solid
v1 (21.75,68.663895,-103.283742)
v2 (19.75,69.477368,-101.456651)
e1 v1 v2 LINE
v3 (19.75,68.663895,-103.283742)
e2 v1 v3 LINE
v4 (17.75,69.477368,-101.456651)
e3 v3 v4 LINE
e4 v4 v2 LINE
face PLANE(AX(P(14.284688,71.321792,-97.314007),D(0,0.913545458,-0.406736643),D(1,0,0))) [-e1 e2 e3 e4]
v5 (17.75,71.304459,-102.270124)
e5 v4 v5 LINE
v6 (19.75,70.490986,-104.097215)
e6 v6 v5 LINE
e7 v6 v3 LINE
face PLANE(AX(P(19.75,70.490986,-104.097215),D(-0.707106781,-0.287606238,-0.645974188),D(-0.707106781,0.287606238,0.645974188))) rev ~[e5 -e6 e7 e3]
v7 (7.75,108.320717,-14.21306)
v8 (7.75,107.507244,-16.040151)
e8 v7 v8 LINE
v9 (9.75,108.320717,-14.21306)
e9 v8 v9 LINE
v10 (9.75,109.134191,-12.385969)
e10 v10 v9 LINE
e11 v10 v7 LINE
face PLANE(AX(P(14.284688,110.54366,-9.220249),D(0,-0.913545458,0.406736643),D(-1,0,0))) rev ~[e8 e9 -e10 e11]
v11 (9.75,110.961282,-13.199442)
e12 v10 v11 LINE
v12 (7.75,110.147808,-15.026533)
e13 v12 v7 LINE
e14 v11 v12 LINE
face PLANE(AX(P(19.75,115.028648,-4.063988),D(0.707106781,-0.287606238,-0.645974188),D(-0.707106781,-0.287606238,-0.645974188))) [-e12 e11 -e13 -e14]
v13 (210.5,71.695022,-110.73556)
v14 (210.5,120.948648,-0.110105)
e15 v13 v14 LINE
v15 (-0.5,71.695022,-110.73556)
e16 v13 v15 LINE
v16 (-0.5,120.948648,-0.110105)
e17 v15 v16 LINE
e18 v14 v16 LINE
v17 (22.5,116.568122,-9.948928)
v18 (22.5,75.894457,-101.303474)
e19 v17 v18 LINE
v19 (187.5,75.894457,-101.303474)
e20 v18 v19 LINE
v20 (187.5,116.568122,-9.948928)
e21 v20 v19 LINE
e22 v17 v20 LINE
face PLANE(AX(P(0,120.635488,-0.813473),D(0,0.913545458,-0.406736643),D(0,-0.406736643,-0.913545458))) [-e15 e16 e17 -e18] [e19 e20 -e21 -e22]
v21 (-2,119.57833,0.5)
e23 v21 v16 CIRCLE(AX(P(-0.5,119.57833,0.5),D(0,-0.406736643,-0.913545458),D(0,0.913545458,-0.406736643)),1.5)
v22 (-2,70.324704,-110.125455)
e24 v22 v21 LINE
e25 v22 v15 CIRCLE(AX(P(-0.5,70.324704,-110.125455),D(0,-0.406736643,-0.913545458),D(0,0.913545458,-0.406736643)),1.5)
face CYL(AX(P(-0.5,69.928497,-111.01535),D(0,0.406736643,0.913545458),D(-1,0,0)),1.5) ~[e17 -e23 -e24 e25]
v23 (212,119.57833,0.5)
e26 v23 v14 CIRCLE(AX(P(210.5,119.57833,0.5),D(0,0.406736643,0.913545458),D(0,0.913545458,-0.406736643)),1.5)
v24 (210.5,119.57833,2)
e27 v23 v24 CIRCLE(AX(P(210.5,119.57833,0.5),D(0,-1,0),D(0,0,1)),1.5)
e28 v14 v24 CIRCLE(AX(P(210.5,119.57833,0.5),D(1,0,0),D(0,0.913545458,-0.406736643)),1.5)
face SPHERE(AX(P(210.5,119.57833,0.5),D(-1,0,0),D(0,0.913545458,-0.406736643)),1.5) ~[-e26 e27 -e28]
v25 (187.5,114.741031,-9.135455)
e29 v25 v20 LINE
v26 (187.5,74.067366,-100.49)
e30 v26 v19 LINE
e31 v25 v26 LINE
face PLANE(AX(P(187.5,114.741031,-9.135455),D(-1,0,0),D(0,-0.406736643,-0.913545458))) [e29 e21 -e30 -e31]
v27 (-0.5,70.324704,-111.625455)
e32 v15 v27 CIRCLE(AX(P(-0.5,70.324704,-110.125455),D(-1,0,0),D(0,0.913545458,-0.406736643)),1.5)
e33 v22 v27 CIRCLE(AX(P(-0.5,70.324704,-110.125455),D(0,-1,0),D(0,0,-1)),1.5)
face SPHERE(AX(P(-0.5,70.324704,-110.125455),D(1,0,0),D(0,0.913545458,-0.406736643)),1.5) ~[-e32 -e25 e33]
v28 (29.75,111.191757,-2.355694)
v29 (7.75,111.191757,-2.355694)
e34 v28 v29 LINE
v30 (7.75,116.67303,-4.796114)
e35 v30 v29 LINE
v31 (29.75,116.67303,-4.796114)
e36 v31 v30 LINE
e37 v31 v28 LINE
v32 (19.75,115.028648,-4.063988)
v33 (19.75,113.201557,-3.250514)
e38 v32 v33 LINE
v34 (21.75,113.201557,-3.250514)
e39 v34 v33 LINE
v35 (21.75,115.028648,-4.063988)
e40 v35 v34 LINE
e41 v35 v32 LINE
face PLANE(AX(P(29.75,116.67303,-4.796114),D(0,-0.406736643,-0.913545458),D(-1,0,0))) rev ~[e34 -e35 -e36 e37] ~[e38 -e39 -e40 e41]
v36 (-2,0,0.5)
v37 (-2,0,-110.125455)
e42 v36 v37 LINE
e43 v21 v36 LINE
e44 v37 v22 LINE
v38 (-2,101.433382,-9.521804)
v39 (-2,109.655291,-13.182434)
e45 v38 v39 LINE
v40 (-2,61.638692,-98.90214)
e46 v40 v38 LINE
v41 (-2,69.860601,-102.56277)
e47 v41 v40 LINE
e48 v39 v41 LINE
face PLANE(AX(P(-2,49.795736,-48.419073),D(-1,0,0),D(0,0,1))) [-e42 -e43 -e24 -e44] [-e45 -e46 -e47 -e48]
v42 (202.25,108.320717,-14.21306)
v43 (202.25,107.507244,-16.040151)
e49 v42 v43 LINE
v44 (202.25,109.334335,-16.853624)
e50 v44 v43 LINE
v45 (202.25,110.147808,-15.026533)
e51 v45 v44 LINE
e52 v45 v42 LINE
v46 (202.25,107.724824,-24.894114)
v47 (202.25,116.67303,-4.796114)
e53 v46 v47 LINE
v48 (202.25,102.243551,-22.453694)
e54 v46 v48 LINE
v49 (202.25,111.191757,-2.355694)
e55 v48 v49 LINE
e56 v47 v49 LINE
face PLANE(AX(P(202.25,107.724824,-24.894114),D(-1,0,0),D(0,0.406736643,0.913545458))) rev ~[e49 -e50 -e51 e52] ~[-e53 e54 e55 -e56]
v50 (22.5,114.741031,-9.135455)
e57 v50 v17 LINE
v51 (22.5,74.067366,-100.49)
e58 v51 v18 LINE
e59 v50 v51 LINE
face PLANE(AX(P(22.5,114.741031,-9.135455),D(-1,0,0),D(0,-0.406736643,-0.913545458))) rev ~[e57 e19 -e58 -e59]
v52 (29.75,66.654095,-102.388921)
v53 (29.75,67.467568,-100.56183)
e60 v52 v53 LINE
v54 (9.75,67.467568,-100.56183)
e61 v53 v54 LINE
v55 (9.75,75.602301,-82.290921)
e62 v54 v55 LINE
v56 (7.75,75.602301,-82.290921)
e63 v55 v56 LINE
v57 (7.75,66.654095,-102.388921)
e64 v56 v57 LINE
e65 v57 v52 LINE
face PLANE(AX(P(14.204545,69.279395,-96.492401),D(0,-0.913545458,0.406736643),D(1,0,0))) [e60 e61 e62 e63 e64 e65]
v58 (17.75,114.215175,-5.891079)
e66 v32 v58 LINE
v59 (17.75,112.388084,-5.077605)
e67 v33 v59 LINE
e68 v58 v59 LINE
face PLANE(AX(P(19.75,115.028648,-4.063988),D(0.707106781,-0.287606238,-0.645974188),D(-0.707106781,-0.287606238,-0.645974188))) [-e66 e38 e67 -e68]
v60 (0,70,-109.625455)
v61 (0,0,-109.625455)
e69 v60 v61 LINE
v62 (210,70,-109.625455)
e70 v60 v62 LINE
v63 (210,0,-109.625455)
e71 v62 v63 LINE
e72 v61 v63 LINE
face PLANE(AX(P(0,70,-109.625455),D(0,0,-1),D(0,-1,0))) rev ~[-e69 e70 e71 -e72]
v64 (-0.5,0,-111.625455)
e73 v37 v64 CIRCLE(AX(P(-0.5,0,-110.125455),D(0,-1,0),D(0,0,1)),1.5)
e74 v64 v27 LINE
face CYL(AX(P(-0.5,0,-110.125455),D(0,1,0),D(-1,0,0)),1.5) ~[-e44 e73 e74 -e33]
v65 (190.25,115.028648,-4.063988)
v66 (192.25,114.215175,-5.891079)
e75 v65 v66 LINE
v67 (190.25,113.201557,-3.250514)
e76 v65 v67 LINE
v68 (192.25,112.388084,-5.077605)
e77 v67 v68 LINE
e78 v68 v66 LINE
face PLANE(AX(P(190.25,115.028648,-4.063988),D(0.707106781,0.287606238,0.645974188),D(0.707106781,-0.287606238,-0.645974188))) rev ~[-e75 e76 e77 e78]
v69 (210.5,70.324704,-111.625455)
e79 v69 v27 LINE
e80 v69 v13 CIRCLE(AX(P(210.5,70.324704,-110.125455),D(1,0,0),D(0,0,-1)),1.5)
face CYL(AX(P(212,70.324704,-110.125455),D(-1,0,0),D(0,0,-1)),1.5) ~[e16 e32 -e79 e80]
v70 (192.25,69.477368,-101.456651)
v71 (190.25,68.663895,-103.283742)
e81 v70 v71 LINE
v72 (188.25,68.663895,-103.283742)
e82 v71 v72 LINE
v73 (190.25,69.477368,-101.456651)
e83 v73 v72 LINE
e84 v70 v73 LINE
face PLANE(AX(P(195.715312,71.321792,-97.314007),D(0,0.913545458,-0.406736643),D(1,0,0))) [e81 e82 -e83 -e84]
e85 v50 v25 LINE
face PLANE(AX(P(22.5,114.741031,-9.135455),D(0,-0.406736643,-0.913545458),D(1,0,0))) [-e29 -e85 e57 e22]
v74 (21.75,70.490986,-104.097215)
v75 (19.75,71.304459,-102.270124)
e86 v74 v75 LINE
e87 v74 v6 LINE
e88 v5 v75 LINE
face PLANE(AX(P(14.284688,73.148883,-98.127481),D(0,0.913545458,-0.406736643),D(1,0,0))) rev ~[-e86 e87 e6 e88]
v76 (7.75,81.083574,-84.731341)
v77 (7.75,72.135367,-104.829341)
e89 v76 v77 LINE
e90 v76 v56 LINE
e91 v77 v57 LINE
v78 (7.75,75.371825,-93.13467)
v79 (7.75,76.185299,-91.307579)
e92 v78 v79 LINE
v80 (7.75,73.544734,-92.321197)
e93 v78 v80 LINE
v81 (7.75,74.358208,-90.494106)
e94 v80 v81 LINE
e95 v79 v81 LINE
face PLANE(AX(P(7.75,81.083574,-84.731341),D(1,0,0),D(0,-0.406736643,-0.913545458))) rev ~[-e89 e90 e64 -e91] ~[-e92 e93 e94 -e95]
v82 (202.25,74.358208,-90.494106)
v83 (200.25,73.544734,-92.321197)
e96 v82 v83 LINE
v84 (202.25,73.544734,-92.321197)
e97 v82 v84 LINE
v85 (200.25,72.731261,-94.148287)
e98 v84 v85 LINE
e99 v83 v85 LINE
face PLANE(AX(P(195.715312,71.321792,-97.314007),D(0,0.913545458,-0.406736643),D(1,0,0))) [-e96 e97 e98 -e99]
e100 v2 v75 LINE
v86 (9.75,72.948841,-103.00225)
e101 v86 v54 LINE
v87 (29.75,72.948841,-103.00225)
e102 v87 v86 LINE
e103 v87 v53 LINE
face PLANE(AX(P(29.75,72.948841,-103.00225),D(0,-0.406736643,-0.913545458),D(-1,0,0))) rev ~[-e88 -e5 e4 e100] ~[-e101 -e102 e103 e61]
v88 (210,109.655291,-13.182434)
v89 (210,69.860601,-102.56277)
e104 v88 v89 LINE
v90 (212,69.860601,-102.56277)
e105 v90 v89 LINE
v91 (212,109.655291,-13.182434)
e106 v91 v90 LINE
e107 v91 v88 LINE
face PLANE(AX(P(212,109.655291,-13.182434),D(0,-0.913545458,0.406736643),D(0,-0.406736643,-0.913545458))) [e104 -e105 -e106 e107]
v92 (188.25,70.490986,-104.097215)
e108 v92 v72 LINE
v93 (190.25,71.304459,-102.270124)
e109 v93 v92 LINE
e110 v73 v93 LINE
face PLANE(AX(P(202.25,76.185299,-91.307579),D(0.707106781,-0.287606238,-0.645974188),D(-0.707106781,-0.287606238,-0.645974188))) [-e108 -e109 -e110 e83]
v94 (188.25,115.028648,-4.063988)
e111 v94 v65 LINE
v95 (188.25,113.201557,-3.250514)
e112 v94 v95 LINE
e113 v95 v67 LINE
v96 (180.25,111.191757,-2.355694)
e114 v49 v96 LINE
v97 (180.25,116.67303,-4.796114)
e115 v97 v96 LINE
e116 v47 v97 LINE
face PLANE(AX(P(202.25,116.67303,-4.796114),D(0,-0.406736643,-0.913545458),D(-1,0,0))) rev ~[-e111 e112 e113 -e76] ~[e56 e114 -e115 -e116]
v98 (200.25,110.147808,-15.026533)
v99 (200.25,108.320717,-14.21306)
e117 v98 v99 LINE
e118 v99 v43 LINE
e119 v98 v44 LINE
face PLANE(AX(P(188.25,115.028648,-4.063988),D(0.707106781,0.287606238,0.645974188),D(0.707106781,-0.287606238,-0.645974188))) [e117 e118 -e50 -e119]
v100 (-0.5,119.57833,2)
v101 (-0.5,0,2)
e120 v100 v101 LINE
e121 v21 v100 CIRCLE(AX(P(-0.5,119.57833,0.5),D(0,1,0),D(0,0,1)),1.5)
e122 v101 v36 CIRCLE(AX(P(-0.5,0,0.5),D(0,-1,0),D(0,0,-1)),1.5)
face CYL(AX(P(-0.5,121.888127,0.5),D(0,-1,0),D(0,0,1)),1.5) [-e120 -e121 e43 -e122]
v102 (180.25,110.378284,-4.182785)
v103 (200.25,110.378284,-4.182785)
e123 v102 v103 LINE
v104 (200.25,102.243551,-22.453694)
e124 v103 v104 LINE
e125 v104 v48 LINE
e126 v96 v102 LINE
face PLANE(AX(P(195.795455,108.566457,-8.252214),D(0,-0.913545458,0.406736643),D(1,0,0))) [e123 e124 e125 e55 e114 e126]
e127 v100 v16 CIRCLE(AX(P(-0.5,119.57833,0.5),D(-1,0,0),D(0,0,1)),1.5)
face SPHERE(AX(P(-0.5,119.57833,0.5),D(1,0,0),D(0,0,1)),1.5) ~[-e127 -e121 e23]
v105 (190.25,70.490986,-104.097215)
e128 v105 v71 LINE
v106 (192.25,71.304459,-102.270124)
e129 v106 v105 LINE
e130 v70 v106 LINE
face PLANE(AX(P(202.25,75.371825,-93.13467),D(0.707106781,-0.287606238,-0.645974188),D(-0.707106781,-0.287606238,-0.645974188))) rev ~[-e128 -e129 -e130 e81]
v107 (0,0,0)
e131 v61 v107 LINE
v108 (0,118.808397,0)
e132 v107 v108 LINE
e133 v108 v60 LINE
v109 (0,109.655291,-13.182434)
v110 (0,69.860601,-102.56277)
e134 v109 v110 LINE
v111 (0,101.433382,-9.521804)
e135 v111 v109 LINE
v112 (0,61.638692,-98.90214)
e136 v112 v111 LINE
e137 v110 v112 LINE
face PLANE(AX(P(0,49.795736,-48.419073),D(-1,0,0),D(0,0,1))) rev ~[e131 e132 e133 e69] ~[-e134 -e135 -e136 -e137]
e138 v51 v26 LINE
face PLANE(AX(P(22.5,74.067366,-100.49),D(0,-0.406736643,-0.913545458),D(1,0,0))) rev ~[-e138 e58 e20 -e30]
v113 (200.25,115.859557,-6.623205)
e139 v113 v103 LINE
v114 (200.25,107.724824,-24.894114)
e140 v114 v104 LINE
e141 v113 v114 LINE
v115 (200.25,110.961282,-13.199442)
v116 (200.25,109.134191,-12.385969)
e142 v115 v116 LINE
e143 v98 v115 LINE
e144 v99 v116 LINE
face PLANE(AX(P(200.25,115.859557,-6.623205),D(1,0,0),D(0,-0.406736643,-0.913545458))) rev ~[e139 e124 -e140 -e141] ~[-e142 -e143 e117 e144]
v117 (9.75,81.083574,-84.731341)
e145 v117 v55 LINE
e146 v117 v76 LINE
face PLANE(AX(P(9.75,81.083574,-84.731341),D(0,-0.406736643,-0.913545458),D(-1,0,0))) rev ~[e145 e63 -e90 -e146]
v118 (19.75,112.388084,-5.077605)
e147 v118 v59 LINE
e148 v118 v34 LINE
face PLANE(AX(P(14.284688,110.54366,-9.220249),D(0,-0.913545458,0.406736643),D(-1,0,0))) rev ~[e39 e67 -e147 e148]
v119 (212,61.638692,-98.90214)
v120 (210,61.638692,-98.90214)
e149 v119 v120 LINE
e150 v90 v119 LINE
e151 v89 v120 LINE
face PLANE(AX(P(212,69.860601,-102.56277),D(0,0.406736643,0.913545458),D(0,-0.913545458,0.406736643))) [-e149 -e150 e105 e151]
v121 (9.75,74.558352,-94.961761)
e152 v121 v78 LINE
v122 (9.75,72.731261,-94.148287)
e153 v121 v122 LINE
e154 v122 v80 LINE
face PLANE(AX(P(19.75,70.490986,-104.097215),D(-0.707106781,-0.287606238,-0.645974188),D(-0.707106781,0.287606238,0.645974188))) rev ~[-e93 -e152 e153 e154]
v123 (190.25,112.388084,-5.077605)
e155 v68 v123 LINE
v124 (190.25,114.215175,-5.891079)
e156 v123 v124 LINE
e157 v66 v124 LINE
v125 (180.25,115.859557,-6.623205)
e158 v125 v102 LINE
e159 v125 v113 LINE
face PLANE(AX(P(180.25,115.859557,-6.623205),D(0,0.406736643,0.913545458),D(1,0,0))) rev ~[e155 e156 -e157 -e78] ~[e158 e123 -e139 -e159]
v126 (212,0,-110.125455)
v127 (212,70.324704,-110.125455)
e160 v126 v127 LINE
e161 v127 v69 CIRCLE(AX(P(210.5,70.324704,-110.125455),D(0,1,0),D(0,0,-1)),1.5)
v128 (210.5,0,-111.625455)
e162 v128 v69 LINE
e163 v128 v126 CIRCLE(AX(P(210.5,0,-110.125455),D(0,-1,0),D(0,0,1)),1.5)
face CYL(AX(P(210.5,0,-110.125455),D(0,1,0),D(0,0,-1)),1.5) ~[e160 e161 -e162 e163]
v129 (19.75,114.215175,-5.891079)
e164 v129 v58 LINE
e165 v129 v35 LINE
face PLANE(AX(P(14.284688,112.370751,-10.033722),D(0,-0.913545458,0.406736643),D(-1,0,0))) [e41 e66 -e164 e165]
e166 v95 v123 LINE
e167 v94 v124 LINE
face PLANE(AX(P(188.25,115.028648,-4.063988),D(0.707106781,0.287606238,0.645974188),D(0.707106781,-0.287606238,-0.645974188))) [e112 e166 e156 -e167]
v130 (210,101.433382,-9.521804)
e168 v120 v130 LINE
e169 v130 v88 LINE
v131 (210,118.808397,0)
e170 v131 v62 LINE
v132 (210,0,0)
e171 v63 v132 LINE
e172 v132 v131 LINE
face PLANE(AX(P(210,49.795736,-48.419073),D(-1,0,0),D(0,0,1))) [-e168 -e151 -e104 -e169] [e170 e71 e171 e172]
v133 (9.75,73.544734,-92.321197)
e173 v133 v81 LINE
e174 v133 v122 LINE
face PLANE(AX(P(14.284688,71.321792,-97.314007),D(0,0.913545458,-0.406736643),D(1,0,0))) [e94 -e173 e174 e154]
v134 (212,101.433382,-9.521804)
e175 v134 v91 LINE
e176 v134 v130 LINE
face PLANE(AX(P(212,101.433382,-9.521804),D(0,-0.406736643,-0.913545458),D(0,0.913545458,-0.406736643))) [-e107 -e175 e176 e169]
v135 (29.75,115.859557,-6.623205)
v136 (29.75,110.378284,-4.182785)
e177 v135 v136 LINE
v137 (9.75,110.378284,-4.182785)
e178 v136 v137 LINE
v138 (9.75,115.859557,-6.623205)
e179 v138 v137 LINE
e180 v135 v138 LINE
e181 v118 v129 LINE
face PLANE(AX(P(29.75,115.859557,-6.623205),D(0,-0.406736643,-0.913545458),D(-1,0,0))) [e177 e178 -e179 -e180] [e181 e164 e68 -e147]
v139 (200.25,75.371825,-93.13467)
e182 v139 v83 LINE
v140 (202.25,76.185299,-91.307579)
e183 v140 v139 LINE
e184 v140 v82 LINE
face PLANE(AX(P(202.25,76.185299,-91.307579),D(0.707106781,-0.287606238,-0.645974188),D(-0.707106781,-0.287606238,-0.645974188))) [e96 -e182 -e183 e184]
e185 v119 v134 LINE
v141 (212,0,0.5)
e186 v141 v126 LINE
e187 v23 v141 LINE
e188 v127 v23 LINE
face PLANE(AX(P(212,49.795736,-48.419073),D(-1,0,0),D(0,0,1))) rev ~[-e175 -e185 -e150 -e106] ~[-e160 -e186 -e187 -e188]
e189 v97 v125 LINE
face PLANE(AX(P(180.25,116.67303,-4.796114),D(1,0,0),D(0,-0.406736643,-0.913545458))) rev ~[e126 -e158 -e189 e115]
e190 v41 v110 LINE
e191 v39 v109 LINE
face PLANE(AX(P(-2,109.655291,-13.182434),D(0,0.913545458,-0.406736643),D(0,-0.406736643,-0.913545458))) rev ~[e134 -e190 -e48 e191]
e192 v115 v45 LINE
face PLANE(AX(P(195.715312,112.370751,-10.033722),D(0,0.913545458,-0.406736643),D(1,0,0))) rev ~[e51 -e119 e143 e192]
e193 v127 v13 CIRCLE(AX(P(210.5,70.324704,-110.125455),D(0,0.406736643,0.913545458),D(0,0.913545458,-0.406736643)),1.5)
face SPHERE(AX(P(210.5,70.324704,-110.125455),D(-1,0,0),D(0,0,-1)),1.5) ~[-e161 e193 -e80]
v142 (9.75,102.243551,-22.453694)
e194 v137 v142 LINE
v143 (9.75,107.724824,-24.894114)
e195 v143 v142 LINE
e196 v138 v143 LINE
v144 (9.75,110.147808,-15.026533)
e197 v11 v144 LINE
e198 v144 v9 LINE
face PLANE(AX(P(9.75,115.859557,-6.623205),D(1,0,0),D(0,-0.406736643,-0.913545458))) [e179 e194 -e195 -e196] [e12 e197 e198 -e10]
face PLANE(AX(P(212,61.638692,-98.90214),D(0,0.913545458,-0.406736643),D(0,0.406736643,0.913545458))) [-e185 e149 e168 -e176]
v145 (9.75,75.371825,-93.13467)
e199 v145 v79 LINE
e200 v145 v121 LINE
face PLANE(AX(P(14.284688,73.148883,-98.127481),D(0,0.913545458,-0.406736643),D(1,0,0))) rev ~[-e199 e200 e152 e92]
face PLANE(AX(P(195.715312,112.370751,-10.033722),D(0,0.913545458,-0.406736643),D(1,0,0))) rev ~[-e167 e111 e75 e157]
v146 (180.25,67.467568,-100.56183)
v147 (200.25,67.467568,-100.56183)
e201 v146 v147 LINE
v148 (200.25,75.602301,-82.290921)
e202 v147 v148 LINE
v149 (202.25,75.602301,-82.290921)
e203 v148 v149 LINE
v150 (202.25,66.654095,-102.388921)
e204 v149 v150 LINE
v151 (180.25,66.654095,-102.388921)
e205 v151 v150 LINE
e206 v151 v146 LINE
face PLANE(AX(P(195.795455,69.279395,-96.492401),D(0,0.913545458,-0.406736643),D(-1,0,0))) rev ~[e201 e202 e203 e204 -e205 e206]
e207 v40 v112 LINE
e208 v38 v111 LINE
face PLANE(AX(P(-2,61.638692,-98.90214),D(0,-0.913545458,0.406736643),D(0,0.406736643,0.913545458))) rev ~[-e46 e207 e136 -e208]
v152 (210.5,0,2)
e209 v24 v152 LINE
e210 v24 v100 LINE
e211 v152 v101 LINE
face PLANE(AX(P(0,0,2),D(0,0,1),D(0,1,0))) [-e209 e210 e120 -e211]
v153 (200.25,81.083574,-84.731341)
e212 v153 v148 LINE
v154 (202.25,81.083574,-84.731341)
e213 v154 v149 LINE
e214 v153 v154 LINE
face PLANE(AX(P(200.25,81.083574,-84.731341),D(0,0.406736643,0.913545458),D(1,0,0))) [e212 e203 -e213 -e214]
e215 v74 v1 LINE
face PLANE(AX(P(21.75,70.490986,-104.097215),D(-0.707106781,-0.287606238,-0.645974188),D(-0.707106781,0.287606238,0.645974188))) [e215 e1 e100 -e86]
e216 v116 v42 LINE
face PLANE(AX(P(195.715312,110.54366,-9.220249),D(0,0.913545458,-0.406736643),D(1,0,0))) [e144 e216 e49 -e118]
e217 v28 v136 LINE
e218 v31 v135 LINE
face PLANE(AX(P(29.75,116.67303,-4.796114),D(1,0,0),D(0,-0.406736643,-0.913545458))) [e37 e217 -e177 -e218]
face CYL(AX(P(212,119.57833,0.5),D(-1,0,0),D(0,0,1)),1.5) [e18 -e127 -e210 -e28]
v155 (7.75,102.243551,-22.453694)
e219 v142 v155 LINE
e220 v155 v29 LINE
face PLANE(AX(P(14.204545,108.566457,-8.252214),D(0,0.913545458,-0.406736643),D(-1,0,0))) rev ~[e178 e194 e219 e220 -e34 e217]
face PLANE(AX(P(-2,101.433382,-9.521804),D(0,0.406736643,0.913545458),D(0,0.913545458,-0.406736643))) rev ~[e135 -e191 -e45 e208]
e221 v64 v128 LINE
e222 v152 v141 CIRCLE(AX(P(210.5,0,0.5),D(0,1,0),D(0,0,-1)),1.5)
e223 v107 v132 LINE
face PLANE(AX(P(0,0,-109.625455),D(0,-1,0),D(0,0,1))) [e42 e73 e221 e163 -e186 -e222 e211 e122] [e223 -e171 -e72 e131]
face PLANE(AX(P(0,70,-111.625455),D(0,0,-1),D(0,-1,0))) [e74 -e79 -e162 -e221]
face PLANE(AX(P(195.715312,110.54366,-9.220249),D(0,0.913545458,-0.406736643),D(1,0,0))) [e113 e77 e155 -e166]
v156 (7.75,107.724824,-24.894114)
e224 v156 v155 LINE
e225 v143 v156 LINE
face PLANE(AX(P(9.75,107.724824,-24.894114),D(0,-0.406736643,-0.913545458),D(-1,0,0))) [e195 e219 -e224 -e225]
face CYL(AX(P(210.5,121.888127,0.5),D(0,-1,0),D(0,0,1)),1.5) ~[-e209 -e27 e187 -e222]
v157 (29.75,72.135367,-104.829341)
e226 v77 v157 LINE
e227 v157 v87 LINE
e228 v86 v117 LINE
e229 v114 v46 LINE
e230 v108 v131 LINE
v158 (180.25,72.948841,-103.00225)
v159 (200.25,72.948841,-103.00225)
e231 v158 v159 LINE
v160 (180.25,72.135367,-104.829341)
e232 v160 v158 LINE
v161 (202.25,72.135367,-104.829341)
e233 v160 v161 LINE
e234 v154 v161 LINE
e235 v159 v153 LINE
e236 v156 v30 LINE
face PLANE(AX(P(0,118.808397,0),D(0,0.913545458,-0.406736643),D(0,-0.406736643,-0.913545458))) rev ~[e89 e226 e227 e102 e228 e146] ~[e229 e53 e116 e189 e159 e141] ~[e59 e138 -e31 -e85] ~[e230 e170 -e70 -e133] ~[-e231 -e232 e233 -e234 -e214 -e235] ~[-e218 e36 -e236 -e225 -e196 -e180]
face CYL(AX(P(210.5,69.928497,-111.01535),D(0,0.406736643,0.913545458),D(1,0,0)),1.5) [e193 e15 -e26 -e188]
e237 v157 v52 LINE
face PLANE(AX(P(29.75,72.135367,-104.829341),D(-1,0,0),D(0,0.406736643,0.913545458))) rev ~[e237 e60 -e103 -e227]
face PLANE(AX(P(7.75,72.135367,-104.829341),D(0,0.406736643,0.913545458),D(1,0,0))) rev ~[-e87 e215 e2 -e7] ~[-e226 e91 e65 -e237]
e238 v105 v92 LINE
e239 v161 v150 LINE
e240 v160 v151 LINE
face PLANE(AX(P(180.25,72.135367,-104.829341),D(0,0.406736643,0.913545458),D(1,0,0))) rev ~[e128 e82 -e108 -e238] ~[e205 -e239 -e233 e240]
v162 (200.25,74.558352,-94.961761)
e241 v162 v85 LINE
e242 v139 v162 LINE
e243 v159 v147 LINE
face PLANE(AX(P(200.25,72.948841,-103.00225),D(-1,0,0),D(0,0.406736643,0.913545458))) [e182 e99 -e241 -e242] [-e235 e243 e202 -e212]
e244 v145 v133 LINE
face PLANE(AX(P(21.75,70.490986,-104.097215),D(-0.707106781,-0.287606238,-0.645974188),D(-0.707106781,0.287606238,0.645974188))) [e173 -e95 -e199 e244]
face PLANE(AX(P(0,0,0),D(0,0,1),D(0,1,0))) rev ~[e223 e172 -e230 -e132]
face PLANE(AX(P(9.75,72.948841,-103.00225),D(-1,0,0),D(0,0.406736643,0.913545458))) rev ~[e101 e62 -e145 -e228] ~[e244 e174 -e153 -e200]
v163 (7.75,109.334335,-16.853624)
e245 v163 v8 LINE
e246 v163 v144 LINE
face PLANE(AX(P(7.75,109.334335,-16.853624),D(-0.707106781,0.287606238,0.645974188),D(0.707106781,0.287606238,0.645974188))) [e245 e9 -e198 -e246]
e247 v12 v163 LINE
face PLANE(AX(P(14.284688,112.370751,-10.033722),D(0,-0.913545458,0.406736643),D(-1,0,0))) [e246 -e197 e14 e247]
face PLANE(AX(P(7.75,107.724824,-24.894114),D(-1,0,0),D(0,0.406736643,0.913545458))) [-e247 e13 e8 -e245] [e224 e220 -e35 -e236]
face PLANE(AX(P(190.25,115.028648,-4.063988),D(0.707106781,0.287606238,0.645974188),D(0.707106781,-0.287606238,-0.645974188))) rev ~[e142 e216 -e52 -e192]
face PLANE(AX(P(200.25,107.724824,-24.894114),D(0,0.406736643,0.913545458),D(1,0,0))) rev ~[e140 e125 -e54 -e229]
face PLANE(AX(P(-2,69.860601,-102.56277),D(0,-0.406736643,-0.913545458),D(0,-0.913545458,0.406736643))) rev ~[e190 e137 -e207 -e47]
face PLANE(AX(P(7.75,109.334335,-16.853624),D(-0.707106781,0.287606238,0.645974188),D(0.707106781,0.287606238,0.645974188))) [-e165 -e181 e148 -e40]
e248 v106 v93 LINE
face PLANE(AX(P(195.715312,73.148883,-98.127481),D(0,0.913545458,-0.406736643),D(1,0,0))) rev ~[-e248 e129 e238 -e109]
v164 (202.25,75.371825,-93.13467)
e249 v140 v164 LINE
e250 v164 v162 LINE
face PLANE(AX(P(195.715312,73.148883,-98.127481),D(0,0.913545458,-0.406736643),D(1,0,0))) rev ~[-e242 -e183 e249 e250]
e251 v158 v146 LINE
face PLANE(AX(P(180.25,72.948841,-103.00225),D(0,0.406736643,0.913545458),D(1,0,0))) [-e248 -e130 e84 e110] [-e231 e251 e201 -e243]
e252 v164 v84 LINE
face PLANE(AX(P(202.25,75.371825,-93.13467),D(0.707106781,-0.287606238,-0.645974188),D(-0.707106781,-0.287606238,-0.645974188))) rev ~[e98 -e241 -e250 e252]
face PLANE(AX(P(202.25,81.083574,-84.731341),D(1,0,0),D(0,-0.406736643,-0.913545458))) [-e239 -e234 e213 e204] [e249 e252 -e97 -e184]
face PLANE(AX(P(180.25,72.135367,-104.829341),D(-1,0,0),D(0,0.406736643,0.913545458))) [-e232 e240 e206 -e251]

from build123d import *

# Parameters (mm, degrees)
EXTRUDE_1_DEPTH     = 210
SHELL_1_T           = 2
SKETCH_3_W          = 165
SKETCH_3_H          = 100
CUT_EXTRUDE_2_DEPTH = 2
EXTRUDE_2_DEPTH     = 6
CUT_EXTRUDE_3_DEPTH = 2
CUT_EXTRUDE_4_DEPTH = 2
CUT_EXTRUDE_5_DEPTH = 2
FILLET_1_R          = 1.5


with BuildPart() as part:
    # 草图2 → 凸台-拉伸1 (new body)
    with BuildSketch(Plane(origin=(0, 0, 0), x_dir=(0, 0, -1), z_dir=(1, 0, 0))):
        Polygon((0, 0), (0, 118.808397169), (109.625454917, 70), (109.625454917, 0), align=None)
    extrude(amount=EXTRUDE_1_DEPTH)

    # 抽壳1
    shell_1_openings = [part.faces().sort_by_distance(p)[0] for p in [
        (105, 0, -54.812727459),
    ]]
    offset(amount=SHELL_1_T, openings=shell_1_openings, kind=Kind.INTERSECTION)

    # 草图3 → 切除-拉伸2 (cut)
    with BuildSketch(Plane(origin=(0, 99.153366004, -44.14592279), x_dir=(1, 0, 0), z_dir=(0, 0.9135454576426035, -0.4067366430757946))):
        with Locations((105, 11.676271366)):
            Rectangle(SKETCH_3_W, SKETCH_3_H)
    extrude(amount=CUT_EXTRUDE_2_DEPTH, mode=Mode.SUBTRACT)

    # 草图5 → 凸台-拉伸2 (add)
    with BuildSketch(Plane(origin=(0, 99.153366004, -44.14592279), x_dir=(1, 0, 0), z_dir=(0, -0.9135454576426034, 0.4067366430757947))):
        Polygon((9.75, 43.073728634), (29.75, 43.073728634), (29.75, 41.073728634), (9.75, 41.073728634), (9.75, 21.073728634), (7.75, 21.073728634), (7.75, 43.073728634), align=None)
        Polygon((180.25, 43.073728634), (180.25, 41.073728634), (200.25, 41.073728634), (200.25, 21.073728634), (202.25, 21.073728634), (202.25, 43.073728634), (200.25, 43.073728634), align=None)
        Polygon((180.25, -66.426271366), (180.25, -64.426271366), (200.25, -64.426271366), (200.25, -44.426271366), (202.25, -44.426271366), (202.25, -66.426271366), (200.25, -66.426271366), align=None)
        Polygon((29.75, -66.426271366), (29.75, -64.426271366), (9.75, -64.426271366), (9.75, -44.426271366), (7.75, -44.426271366), (7.75, -66.426271366), (9.75, -66.426271366), align=None)
    extrude(amount=EXTRUDE_2_DEPTH)

    # 草图8 → 切除-拉伸3 (cut)
    with BuildSketch(Plane(origin=(0, 97.50898418, -43.413796832), x_dir=(-1, 0, 0), z_dir=(0, -0.9135454576426034, 0.4067366430757947))):
        Polygon((-19.75, -41.073728634), (-21.75, -43.073728634), (-19.75, -43.073728634), (-7.75, -31.073728634), (-7.75, -29.073728634), (-9.75, -31.073728634), align=None)
        Polygon((-19.75, 64.426271366), (-21.75, 66.426271366), (-19.75, 66.426271366), (-7.75, 54.426271366), (-7.75, 52.426271366), (-9.75, 54.426271366), align=None)
        Polygon((-190.25, -41.073728634), (-188.25, -43.073728634), (-190.25, -43.073728634), (-202.25, -31.073728634), (-202.25, -29.073728634), (-200.25, -31.073728634), align=None)
        Polygon((-200.25, 54.426271366), (-202.25, 52.426271366), (-202.25, 54.426271366), (-190.25, 66.426271366), (-188.25, 66.426271366), (-190.25, 64.426271366), align=None)
    extrude(amount=CUT_EXTRUDE_3_DEPTH, mode=Mode.SUBTRACT)

    # 草图10 → 切除-拉伸4 (cut)
    with BuildSketch(Plane.ZY.offset(2)):
        Polygon((-98.902140019, 61.638692052), (-9.521804093, 101.433381509), (-13.182433881, 109.655290628), (-102.562769807, 69.860601171), align=None)
    extrude(amount=-CUT_EXTRUDE_4_DEPTH, mode=Mode.SUBTRACT)

    # 草图11 → 切除-拉伸5 (cut)
    with BuildSketch(Plane(origin=(212, 0, 0), x_dir=(0, 0, -1), z_dir=(1, 0, 0))):
        Polygon((9.521804093, 101.433381509), (13.182433881, 109.655290628), (102.562769807, 69.860601171), (98.902140019, 61.638692052), align=None)
    extrude(amount=-CUT_EXTRUDE_5_DEPTH, mode=Mode.SUBTRACT)

    # 圆角1
    fillet_1_edges = [part.edges().sort_by_distance(p)[0] for p in [
        (212, 96.593471142, -54.812727459),
        (212, 60.944063548, 2),
        (-2, 60.944063548, 2),
        (-2, 96.593471142, -54.812727459),
        (-2, 35.649407593, -111.625454917),
        (105, 121.888127097, 2),
        (105, 71.298815186, -111.625454917),
        (212, 35.649407593, -111.625454917),
    ]]
    fillet(fillet_1_edges, radius=FILLET_1_R)


solid = part.part
